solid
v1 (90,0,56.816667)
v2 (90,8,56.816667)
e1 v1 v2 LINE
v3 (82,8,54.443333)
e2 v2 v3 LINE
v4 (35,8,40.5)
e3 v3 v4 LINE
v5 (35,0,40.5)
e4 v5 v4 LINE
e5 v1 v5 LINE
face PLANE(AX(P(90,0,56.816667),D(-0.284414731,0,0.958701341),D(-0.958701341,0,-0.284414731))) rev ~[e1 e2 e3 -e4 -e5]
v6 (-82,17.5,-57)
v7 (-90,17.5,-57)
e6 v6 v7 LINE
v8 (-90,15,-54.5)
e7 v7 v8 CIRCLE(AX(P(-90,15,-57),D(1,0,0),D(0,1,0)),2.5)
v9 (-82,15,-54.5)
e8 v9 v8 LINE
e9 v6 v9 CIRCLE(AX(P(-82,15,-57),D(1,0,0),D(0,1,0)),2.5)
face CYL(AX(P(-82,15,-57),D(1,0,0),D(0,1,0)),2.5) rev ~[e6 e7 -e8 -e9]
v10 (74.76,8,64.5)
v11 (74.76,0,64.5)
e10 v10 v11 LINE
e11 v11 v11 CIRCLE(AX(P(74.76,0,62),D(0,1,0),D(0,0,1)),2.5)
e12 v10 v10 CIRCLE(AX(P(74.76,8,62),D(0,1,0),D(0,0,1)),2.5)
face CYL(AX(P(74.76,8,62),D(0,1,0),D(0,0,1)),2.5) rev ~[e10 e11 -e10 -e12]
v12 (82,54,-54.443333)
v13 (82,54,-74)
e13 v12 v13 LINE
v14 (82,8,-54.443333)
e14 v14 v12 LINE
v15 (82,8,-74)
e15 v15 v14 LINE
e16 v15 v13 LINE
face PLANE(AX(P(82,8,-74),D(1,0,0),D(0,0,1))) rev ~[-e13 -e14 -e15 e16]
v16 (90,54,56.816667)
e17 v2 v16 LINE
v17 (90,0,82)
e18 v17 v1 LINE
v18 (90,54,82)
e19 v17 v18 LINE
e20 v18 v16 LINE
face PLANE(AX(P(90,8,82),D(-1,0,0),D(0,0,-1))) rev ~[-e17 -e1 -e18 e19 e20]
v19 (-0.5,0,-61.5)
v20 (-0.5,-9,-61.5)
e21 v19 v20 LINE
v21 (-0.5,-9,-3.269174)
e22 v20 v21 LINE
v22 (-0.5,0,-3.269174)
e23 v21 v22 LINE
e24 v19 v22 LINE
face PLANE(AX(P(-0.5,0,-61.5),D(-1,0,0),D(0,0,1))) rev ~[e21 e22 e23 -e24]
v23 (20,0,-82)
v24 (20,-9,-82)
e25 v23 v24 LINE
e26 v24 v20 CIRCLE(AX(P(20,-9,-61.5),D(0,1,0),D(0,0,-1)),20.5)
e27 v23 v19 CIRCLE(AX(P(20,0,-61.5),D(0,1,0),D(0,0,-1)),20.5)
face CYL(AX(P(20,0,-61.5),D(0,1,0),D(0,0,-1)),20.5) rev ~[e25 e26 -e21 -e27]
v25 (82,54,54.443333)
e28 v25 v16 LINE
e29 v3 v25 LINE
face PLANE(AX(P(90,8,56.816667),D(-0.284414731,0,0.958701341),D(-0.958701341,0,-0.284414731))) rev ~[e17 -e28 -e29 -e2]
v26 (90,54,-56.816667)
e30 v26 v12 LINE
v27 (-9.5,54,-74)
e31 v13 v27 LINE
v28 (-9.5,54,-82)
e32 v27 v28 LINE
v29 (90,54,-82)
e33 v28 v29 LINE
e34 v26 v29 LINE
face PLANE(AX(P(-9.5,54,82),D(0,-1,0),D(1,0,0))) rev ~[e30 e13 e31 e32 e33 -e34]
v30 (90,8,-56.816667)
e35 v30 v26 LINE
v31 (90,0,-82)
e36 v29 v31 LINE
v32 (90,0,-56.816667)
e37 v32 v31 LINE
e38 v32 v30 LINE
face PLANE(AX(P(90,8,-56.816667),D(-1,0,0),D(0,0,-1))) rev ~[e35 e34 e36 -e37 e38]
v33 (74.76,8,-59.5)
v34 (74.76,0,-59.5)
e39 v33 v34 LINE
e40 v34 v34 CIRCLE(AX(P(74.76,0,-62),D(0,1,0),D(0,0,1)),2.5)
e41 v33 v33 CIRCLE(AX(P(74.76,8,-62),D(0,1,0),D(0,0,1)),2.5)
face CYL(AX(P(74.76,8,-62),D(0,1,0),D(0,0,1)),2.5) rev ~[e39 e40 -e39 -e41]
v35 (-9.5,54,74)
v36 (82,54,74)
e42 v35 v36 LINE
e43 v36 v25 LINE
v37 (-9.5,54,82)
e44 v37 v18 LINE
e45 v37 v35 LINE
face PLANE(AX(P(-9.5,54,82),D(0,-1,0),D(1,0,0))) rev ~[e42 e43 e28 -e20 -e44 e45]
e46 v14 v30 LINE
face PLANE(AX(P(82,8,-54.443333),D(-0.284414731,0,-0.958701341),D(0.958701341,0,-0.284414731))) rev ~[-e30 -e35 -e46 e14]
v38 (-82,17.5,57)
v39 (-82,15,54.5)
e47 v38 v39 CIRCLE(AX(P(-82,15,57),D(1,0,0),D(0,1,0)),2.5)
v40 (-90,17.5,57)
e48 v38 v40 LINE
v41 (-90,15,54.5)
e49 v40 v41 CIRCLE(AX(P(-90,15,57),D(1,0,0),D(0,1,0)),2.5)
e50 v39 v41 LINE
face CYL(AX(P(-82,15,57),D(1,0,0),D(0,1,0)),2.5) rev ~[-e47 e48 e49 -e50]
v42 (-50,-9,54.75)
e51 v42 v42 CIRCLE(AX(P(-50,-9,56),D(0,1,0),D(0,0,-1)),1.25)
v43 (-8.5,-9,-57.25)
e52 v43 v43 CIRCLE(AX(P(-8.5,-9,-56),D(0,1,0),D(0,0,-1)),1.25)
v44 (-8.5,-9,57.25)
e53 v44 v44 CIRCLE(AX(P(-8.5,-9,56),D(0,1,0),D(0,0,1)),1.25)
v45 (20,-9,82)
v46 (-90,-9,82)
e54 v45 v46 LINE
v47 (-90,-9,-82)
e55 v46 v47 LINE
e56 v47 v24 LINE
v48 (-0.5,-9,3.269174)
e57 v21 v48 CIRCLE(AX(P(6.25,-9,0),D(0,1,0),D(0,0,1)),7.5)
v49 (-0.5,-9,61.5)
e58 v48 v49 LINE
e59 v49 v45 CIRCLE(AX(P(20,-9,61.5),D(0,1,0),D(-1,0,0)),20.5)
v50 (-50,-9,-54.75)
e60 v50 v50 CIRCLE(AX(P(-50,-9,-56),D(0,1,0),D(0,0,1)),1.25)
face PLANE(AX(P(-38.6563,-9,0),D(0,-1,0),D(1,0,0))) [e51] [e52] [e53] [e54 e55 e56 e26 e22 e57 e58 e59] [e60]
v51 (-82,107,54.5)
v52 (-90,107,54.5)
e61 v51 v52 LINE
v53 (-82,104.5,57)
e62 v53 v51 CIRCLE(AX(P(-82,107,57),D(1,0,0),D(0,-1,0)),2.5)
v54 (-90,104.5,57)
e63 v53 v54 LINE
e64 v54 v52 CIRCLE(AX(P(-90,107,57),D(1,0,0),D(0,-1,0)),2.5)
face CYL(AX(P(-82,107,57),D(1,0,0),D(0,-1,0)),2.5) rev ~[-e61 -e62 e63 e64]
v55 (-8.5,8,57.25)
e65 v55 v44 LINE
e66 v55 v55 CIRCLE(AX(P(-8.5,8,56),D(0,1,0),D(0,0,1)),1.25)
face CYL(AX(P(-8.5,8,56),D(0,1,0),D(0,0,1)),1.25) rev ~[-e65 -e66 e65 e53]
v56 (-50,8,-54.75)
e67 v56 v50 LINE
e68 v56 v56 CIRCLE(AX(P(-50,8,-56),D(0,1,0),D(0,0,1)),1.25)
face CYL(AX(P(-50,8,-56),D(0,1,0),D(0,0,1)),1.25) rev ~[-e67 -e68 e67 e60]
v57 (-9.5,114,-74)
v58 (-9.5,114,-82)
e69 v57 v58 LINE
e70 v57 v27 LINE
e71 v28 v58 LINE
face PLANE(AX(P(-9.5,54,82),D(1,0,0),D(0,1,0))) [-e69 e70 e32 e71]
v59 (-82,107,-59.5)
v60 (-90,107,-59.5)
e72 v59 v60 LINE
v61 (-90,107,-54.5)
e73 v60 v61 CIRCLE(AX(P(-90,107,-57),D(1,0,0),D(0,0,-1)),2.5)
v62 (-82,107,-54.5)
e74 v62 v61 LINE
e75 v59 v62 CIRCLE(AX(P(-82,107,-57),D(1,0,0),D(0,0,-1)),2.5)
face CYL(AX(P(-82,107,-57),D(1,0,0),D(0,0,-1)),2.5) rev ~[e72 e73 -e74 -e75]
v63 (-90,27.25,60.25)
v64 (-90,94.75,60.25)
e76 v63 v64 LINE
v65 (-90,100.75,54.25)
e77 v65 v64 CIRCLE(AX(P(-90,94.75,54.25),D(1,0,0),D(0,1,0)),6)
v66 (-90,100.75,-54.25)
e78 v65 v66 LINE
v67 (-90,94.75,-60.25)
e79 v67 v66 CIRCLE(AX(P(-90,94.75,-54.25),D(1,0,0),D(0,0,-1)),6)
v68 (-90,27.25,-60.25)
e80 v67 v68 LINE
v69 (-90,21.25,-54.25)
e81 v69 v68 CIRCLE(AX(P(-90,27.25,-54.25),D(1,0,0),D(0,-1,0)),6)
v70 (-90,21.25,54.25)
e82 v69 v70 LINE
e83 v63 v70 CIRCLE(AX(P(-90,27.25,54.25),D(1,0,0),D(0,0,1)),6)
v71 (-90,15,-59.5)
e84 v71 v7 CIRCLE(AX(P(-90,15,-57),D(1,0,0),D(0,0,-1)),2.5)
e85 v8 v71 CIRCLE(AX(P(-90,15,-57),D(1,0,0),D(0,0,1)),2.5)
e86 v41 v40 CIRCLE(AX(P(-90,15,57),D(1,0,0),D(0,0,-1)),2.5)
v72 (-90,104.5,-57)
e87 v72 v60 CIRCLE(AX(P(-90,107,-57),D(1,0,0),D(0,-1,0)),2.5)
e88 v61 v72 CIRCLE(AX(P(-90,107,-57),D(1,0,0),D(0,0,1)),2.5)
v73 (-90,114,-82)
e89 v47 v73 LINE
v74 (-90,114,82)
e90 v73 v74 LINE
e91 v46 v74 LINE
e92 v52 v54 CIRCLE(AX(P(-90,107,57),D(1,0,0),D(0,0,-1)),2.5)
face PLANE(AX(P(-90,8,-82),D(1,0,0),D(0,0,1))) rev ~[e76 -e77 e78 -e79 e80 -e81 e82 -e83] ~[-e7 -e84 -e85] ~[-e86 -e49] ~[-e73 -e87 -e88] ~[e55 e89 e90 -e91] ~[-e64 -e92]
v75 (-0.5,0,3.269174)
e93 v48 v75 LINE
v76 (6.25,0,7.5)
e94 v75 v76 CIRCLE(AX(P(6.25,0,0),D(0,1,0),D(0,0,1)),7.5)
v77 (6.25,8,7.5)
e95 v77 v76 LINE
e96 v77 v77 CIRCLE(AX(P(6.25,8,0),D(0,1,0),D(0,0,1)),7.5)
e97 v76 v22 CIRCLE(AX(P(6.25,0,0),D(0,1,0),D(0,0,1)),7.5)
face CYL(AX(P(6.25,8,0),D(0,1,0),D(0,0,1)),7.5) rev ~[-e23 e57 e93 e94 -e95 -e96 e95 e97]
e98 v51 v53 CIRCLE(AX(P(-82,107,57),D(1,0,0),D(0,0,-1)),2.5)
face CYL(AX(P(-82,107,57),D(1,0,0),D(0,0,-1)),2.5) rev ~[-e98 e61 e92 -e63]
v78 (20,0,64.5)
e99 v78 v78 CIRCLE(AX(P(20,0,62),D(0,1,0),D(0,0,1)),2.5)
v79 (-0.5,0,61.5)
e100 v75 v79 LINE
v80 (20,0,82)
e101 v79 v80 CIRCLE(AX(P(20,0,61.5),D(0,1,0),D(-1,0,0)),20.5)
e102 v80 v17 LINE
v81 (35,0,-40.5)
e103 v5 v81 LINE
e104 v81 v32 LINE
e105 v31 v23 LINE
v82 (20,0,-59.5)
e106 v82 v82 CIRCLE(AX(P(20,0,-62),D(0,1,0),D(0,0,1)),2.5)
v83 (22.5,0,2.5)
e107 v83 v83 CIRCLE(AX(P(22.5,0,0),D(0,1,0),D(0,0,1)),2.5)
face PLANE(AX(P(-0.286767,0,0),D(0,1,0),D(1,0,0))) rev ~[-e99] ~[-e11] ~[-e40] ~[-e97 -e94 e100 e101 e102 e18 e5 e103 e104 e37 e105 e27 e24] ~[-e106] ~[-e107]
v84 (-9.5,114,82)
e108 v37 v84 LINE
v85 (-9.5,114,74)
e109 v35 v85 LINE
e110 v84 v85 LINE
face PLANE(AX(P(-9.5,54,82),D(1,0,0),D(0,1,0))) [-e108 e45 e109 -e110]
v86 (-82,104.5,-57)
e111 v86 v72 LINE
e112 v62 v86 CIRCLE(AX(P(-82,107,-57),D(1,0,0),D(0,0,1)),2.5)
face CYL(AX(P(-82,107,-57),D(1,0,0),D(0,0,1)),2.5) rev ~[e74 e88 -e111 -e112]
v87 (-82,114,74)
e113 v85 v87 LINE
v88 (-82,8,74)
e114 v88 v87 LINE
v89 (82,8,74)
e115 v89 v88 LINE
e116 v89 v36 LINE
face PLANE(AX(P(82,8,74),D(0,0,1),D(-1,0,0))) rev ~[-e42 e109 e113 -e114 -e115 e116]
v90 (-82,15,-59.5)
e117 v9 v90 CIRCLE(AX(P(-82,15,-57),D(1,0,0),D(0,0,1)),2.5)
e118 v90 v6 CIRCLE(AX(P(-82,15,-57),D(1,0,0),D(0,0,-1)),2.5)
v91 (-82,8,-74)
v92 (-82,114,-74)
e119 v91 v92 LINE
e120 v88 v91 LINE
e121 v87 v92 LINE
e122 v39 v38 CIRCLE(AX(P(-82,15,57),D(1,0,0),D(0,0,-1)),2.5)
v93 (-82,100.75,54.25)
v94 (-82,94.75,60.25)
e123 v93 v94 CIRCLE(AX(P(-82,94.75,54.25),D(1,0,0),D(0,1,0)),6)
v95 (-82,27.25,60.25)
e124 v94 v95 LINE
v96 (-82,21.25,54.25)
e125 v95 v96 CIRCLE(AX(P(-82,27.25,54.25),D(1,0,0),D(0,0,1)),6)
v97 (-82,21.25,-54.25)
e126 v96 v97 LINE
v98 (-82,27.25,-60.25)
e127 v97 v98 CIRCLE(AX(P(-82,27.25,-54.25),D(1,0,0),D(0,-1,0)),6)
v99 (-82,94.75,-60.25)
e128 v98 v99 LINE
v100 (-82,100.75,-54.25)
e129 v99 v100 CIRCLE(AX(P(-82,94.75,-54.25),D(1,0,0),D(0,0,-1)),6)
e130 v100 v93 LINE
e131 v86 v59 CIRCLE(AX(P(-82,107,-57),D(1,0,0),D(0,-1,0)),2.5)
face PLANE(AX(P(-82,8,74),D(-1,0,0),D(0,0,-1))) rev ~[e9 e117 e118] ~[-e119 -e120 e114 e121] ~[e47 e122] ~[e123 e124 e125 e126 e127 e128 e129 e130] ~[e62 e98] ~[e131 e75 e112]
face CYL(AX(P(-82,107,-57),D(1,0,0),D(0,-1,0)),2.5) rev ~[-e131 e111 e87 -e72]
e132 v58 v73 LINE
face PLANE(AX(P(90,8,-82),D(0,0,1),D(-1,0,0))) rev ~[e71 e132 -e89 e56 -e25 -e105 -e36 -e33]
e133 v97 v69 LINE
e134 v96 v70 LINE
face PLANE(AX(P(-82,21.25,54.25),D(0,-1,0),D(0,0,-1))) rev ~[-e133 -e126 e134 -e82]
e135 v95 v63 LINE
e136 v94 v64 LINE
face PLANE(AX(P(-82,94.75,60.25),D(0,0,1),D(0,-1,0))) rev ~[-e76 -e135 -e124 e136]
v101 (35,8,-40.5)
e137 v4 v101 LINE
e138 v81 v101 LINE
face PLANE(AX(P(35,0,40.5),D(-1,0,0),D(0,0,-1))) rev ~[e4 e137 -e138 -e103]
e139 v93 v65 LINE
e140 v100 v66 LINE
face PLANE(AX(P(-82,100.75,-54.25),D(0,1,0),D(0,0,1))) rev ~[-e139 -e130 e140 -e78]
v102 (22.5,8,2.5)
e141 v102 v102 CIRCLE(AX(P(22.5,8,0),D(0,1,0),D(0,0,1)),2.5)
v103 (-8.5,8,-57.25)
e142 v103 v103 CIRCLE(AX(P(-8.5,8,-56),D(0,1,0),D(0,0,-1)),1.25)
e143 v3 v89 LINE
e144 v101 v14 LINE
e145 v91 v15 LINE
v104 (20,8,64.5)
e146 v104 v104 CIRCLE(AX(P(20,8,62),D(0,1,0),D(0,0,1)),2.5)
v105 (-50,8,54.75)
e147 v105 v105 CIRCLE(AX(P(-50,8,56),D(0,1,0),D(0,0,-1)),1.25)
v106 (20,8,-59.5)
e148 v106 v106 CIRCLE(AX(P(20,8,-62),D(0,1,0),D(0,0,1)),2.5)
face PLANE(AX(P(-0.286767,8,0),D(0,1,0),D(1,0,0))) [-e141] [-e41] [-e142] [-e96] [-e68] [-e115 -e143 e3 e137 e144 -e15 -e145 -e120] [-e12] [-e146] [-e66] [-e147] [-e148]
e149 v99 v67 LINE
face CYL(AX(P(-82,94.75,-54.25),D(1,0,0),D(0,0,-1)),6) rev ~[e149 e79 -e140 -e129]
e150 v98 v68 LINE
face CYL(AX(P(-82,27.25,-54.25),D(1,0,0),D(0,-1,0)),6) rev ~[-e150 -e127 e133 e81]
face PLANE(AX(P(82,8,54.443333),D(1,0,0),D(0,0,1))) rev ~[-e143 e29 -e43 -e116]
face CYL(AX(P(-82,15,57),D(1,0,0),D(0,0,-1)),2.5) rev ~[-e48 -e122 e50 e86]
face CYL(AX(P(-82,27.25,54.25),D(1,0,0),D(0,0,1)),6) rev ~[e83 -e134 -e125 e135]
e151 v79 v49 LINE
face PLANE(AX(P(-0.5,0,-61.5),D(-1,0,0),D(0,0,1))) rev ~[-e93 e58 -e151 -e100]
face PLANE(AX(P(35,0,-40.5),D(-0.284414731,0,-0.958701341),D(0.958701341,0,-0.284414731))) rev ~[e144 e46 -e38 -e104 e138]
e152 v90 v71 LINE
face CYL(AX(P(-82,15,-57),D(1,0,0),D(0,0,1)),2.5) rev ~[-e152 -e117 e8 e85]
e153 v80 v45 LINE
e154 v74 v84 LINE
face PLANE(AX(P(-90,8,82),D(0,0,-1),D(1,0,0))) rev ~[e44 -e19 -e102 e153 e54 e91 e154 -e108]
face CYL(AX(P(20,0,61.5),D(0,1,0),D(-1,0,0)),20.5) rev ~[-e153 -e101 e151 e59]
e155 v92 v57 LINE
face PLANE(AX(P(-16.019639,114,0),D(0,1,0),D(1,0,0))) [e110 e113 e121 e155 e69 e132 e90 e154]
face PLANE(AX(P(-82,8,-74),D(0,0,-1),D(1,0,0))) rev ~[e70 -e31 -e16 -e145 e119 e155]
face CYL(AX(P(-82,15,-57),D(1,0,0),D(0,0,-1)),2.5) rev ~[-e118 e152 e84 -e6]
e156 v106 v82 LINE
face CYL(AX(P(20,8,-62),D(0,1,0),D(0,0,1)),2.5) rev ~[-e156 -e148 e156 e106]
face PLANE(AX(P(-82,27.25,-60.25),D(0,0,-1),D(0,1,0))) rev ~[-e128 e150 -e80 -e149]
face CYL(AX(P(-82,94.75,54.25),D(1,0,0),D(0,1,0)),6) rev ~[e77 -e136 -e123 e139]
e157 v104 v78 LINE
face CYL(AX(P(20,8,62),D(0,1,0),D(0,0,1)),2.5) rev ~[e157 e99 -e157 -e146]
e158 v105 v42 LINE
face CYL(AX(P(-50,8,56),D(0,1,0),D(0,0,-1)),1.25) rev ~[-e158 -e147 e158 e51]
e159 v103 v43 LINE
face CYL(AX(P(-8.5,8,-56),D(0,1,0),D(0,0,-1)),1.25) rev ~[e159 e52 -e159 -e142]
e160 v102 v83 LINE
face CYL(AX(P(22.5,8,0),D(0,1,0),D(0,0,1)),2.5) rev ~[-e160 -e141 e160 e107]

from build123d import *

# Parameters (mm, degrees)
BOSS_EXTRUDE1_DEPTH = 8
BOSS_EXTRUDE2_DEPTH = 9
BOSS_EXTRUDE3_DEPTH = 106
CUT_EXTRUDE1_REACH  = 163.431
SKETCH4_R           = 2.5
SKETCH4_R_2         = 7.5
CUT_EXTRUDE2_REACH  = 163.431
SKETCH5_R           = 1.25
SKETCH7_W           = 99.5
SKETCH7_H           = 60
CUT_EXTRUDE3_DEPTH  = 220.070764823
CUT_EXTRUDE4_REACH  = 224.045


with BuildPart() as part:
    # Sketch1 → Boss-Extrude1 (new body)
    with BuildSketch(Plane(origin=(0, 0, 0), x_dir=(1, 0, 0), z_dir=(0, 1, 0))):
        Polygon((35, 40.5), (90, 56.816666667), (90, 82), (-90, 82), (-90, -82), (90, -82), (90, -56.816666667), (35, -40.5), align=None)
    extrude(amount=BOSS_EXTRUDE1_DEPTH)

    # Sketch2 → Boss-Extrude2 (add)
    with BuildSketch(Plane.XZ):
        with BuildLine():
            ThreePointArc((-0.5, 61.5), (5.504310986, 75.995689014), (20, 82))
            Line((20, 82), (-90, 82))
            Line((-90, 82), (-90, -82))
            Line((-90, -82), (20, -82))
            ThreePointArc((20, -82), (5.504310986, -75.995689014), (-0.5, -61.5))
            Line((-0.5, -61.5), (-0.5, 61.5))
        make_face()
    extrude(amount=BOSS_EXTRUDE2_DEPTH)

    # Sketch3 → Boss-Extrude3 (add)
    with BuildSketch(Plane(origin=(0, 8, 0), x_dir=(1, 0, 0), z_dir=(0, 1, 0))):
        Polygon((90, 82), (-90, 82), (-90, -82), (90, -82), (90, -56.816666667), (82, -54.443333333), (82, -62.787955021), (82, -74), (-82, -74), (-82, 74), (82, 74), (82, 62.787955021), (82, 54.443333333), (90, 56.816666667), align=None)
    extrude(amount=BOSS_EXTRUDE3_DEPTH)

    # Sketch4 → Cut-Extrude1 (cut, up to next)
    with BuildSketch(Plane(origin=(0, 8, 0), x_dir=(1, 0, 0), z_dir=(0, 1, 0)), mode=Mode.PRIVATE) as cut_extrude1_sk1:
        with Locations(Location((74.76, 62, 0), (0, 0, 270))):
            Circle(SKETCH4_R)
    cut_extrude1_tool1 = extrude(cut_extrude1_sk1.sketch, amount=-CUT_EXTRUDE1_REACH, mode=Mode.PRIVATE) & part.part
    # Sketch4 → Cut-Extrude1 (cut, up to next)
    with BuildSketch(Plane(origin=(0, 8, 0), x_dir=(1, 0, 0), z_dir=(0, 1, 0)), mode=Mode.PRIVATE) as cut_extrude1_sk2:
        with Locations(Location((6.25, 0, 0), (0, 0, 270))):
            Circle(SKETCH4_R_2)
    cut_extrude1_tool2 = extrude(cut_extrude1_sk2.sketch, amount=-CUT_EXTRUDE1_REACH, mode=Mode.PRIVATE) & part.part
    # Sketch4 → Cut-Extrude1 (cut, up to next)
    with BuildSketch(Plane(origin=(0, 8, 0), x_dir=(1, 0, 0), z_dir=(0, 1, 0)), mode=Mode.PRIVATE) as cut_extrude1_sk3:
        with Locations(Location((22.5, 0, 0), (0, 0, 270))):
            Circle(SKETCH4_R)
    cut_extrude1_tool3 = extrude(cut_extrude1_sk3.sketch, amount=-CUT_EXTRUDE1_REACH, mode=Mode.PRIVATE) & part.part
    # Sketch4 → Cut-Extrude1 (cut, up to next)
    with BuildSketch(Plane(origin=(0, 8, 0), x_dir=(1, 0, 0), z_dir=(0, 1, 0)), mode=Mode.PRIVATE) as cut_extrude1_sk4:
        with Locations(Location((20, 62, 0), (0, 0, 270))):
            Circle(SKETCH4_R)
    cut_extrude1_tool4 = extrude(cut_extrude1_sk4.sketch, amount=-CUT_EXTRUDE1_REACH, mode=Mode.PRIVATE) & part.part
    # Sketch4 → Cut-Extrude1 (cut, up to next)
    with BuildSketch(Plane(origin=(0, 8, 0), x_dir=(1, 0, 0), z_dir=(0, 1, 0)), mode=Mode.PRIVATE) as cut_extrude1_sk5:
        with Locations(Location((20, -62, 0), (0, 0, 270))):
            Circle(SKETCH4_R)
    cut_extrude1_tool5 = extrude(cut_extrude1_sk5.sketch, amount=-CUT_EXTRUDE1_REACH, mode=Mode.PRIVATE) & part.part
    # Sketch4 → Cut-Extrude1 (cut, up to next)
    with BuildSketch(Plane(origin=(0, 8, 0), x_dir=(1, 0, 0), z_dir=(0, 1, 0)), mode=Mode.PRIVATE) as cut_extrude1_sk6:
        with Locations(Location((74.76, -62, 0), (0, 0, 270))):
            Circle(SKETCH4_R)
    cut_extrude1_tool6 = extrude(cut_extrude1_sk6.sketch, amount=-CUT_EXTRUDE1_REACH, mode=Mode.PRIVATE) & part.part
    add(cut_extrude1_tool1.solids().sort_by_distance((74.76, 8, -62))[0], mode=Mode.SUBTRACT)
    add(cut_extrude1_tool2.solids().sort_by_distance((6.25, 8, 0))[0], mode=Mode.SUBTRACT)
    add(cut_extrude1_tool3.solids().sort_by_distance((22.5, 8, 0))[0], mode=Mode.SUBTRACT)
    add(cut_extrude1_tool4.solids().sort_by_distance((20, 8, -62))[0], mode=Mode.SUBTRACT)
    add(cut_extrude1_tool5.solids().sort_by_distance((20, 8, 62))[0], mode=Mode.SUBTRACT)
    add(cut_extrude1_tool6.solids().sort_by_distance((74.76, 8, 62))[0], mode=Mode.SUBTRACT)

    # Sketch5 → Cut-Extrude2 (cut, up to next)
    with BuildSketch(Plane(origin=(0, 8, 0), x_dir=(1, 0, 0), z_dir=(0, 1, 0)), mode=Mode.PRIVATE) as cut_extrude2_sk1:
        with Locations(Location((-50, 56, 0), (0, 0, 270))):
            Circle(SKETCH5_R)
    cut_extrude2_tool1 = extrude(cut_extrude2_sk1.sketch, amount=-CUT_EXTRUDE2_REACH, mode=Mode.PRIVATE) & part.part
    # Sketch5 → Cut-Extrude2 (cut, up to next)
    with BuildSketch(Plane(origin=(0, 8, 0), x_dir=(1, 0, 0), z_dir=(0, 1, 0)), mode=Mode.PRIVATE) as cut_extrude2_sk2:
        with Locations(Location((-8.5, 56, 0), (0, 0, 90))):
            Circle(SKETCH5_R)
    cut_extrude2_tool2 = extrude(cut_extrude2_sk2.sketch, amount=-CUT_EXTRUDE2_REACH, mode=Mode.PRIVATE) & part.part
    # Sketch5 → Cut-Extrude2 (cut, up to next)
    with BuildSketch(Plane(origin=(0, 8, 0), x_dir=(1, 0, 0), z_dir=(0, 1, 0)), mode=Mode.PRIVATE) as cut_extrude2_sk3:
        with Locations(Location((-8.5, -56, 0), (0, 0, 270))):
            Circle(SKETCH5_R)
    cut_extrude2_tool3 = extrude(cut_extrude2_sk3.sketch, amount=-CUT_EXTRUDE2_REACH, mode=Mode.PRIVATE) & part.part
    # Sketch5 → Cut-Extrude2 (cut, up to next)
    with BuildSketch(Plane(origin=(0, 8, 0), x_dir=(1, 0, 0), z_dir=(0, 1, 0)), mode=Mode.PRIVATE) as cut_extrude2_sk4:
        with Locations(Location((-50, -56, 0), (0, 0, 90))):
            Circle(SKETCH5_R)
    cut_extrude2_tool4 = extrude(cut_extrude2_sk4.sketch, amount=-CUT_EXTRUDE2_REACH, mode=Mode.PRIVATE) & part.part
    add(cut_extrude2_tool1.solids().sort_by_distance((-50, 8, -56))[0], mode=Mode.SUBTRACT)
    add(cut_extrude2_tool2.solids().sort_by_distance((-8.5, 8, -56))[0], mode=Mode.SUBTRACT)
    add(cut_extrude2_tool3.solids().sort_by_distance((-8.5, 8, 56))[0], mode=Mode.SUBTRACT)
    add(cut_extrude2_tool4.solids().sort_by_distance((-50, 8, 56))[0], mode=Mode.SUBTRACT)

    # Sketch7 → Cut-Extrude3 (cut, through all)
    with BuildSketch(Plane.XY.offset(82)):
        with Locations((40.25, 84)):
            Rectangle(SKETCH7_W, SKETCH7_H)
    extrude(amount=-CUT_EXTRUDE3_DEPTH, mode=Mode.SUBTRACT)

    # Sketch8 → Cut-Extrude4 (cut, up to next)
    with BuildSketch(Plane(origin=(-82, 0, 0), x_dir=(0, 0, -1), z_dir=(1, 0, 0)), mode=Mode.PRIVATE) as cut_extrude4_sk1:
        with BuildLine():
            Line((-57, 104.5), (-57, 107))
            Line((-57, 107), (-54.5, 107))
            ThreePointArc((-54.5, 107), (-58.767766953, 108.767766953), (-57, 104.5))
        make_face()
    cut_extrude4_tool1 = extrude(cut_extrude4_sk1.sketch, amount=-CUT_EXTRUDE4_REACH, mode=Mode.PRIVATE) & part.part
    # Sketch8 → Cut-Extrude4 (cut, up to next)
    with BuildSketch(Plane(origin=(-82, 0, 0), x_dir=(0, 0, -1), z_dir=(1, 0, 0)), mode=Mode.PRIVATE) as cut_extrude4_sk2:
        with BuildLine():
            Line((-54.5, 107), (-57, 107))
            Line((-57, 107), (-57, 104.5))
            ThreePointArc((-57, 104.5), (-55.232233047, 105.232233047), (-54.5, 107))
        make_face()
    cut_extrude4_tool2 = extrude(cut_extrude4_sk2.sketch, amount=-CUT_EXTRUDE4_REACH, mode=Mode.PRIVATE) & part.part
    # Sketch8 → Cut-Extrude4 (cut, up to next)
    with BuildSketch(Plane(origin=(-82, 0, 0), x_dir=(0, 0, -1), z_dir=(1, 0, 0)), mode=Mode.PRIVATE) as cut_extrude4_sk3:
        with BuildLine():
            Line((-57, 104.5), (-57, 107))
            Line((-57, 107), (-54.5, 107))
            ThreePointArc((-54.5, 107), (-58.767766953, 108.767766953), (-57, 104.5))
        make_face()
    cut_extrude4_tool3 = extrude(cut_extrude4_sk3.sketch, amount=-CUT_EXTRUDE4_REACH, mode=Mode.PRIVATE) & part.part
    # Sketch8 → Cut-Extrude4 (cut, up to next)
    with BuildSketch(Plane(origin=(-82, 0, 0), x_dir=(0, 0, -1), z_dir=(1, 0, 0)), mode=Mode.PRIVATE) as cut_extrude4_sk4:
        with BuildLine():
            Line((-54.5, 107), (-57, 107))
            Line((-57, 107), (-57, 104.5))
            ThreePointArc((-57, 104.5), (-55.232233047, 105.232233047), (-54.5, 107))
        make_face()
    cut_extrude4_tool4 = extrude(cut_extrude4_sk4.sketch, amount=-CUT_EXTRUDE4_REACH, mode=Mode.PRIVATE) & part.part
    # Sketch8 → Cut-Extrude4 (cut, up to next)
    with BuildSketch(Plane(origin=(-82, 0, 0), x_dir=(0, 0, -1), z_dir=(1, 0, 0)), mode=Mode.PRIVATE) as cut_extrude4_sk5:
        with BuildLine():
            ThreePointArc((59.5, 107), (57, 109.5), (54.5, 107))
            Line((54.5, 107), (57, 107))
            Line((57, 107), (57, 104.5))
            ThreePointArc((57, 104.5), (58.767766953, 105.232233047), (59.5, 107))
        make_face()
    cut_extrude4_tool5 = extrude(cut_extrude4_sk5.sketch, amount=-CUT_EXTRUDE4_REACH, mode=Mode.PRIVATE) & part.part
    # Sketch8 → Cut-Extrude4 (cut, up to next)
    with BuildSketch(Plane(origin=(-82, 0, 0), x_dir=(0, 0, -1), z_dir=(1, 0, 0)), mode=Mode.PRIVATE) as cut_extrude4_sk6:
        with BuildLine():
            Line((57, 107), (54.5, 107))
            ThreePointArc((54.5, 107), (55.232233047, 105.232233047), (57, 104.5))
            Line((57, 104.5), (57, 107))
        make_face()
    cut_extrude4_tool6 = extrude(cut_extrude4_sk6.sketch, amount=-CUT_EXTRUDE4_REACH, mode=Mode.PRIVATE) & part.part
    # Sketch8 → Cut-Extrude4 (cut, up to next)
    with BuildSketch(Plane(origin=(-82, 0, 0), x_dir=(0, 0, -1), z_dir=(1, 0, 0)), mode=Mode.PRIVATE) as cut_extrude4_sk7:
        with BuildLine():
            ThreePointArc((59.5, 107), (57, 109.5), (54.5, 107))
            Line((54.5, 107), (57, 107))
            Line((57, 107), (57, 104.5))
            ThreePointArc((57, 104.5), (58.767766953, 105.232233047), (59.5, 107))
        make_face()
    cut_extrude4_tool7 = extrude(cut_extrude4_sk7.sketch, amount=-CUT_EXTRUDE4_REACH, mode=Mode.PRIVATE) & part.part
    # Sketch8 → Cut-Extrude4 (cut, up to next)
    with BuildSketch(Plane(origin=(-82, 0, 0), x_dir=(0, 0, -1), z_dir=(1, 0, 0)), mode=Mode.PRIVATE) as cut_extrude4_sk8:
        with BuildLine():
            Line((57, 107), (54.5, 107))
            ThreePointArc((54.5, 107), (55.232233047, 105.232233047), (57, 104.5))
            Line((57, 104.5), (57, 107))
        make_face()
    cut_extrude4_tool8 = extrude(cut_extrude4_sk8.sketch, amount=-CUT_EXTRUDE4_REACH, mode=Mode.PRIVATE) & part.part
    # Sketch8 → Cut-Extrude4 (cut, up to next)
    with BuildSketch(Plane(origin=(-82, 0, 0), x_dir=(0, 0, -1), z_dir=(1, 0, 0)), mode=Mode.PRIVATE) as cut_extrude4_sk9:
        with BuildLine():
            ThreePointArc((-54.5, 15), (-55.232233047, 16.767766953), (-57, 17.5))
            Line((-57, 17.5), (-57, 15))
            Line((-57, 15), (-54.5, 15))
        make_face()
    cut_extrude4_tool9 = extrude(cut_extrude4_sk9.sketch, amount=-CUT_EXTRUDE4_REACH, mode=Mode.PRIVATE) & part.part
    # Sketch8 → Cut-Extrude4 (cut, up to next)
    with BuildSketch(Plane(origin=(-82, 0, 0), x_dir=(0, 0, -1), z_dir=(1, 0, 0)), mode=Mode.PRIVATE) as cut_extrude4_sk10:
        with BuildLine():
            Line((-57, 15), (-57, 17.5))
            ThreePointArc((-57, 17.5), (-58.767766953, 13.232233047), (-54.5, 15))
            Line((-54.5, 15), (-57, 15))
        make_face()
    cut_extrude4_tool10 = extrude(cut_extrude4_sk10.sketch, amount=-CUT_EXTRUDE4_REACH, mode=Mode.PRIVATE) & part.part
    # Sketch8 → Cut-Extrude4 (cut, up to next)
    with BuildSketch(Plane(origin=(-82, 0, 0), x_dir=(0, 0, -1), z_dir=(1, 0, 0)), mode=Mode.PRIVATE) as cut_extrude4_sk11:
        with BuildLine():
            ThreePointArc((-54.5, 15), (-55.232233047, 16.767766953), (-57, 17.5))
            Line((-57, 17.5), (-57, 15))
            Line((-57, 15), (-54.5, 15))
        make_face()
    cut_extrude4_tool11 = extrude(cut_extrude4_sk11.sketch, amount=-CUT_EXTRUDE4_REACH, mode=Mode.PRIVATE) & part.part
    # Sketch8 → Cut-Extrude4 (cut, up to next)
    with BuildSketch(Plane(origin=(-82, 0, 0), x_dir=(0, 0, -1), z_dir=(1, 0, 0)), mode=Mode.PRIVATE) as cut_extrude4_sk12:
        with BuildLine():
            Line((-57, 15), (-57, 17.5))
            ThreePointArc((-57, 17.5), (-58.767766953, 13.232233047), (-54.5, 15))
            Line((-54.5, 15), (-57, 15))
        make_face()
    cut_extrude4_tool12 = extrude(cut_extrude4_sk12.sketch, amount=-CUT_EXTRUDE4_REACH, mode=Mode.PRIVATE) & part.part
    # Sketch8 → Cut-Extrude4 (cut, up to next)
    with BuildSketch(Plane(origin=(-82, 0, 0), x_dir=(0, 0, -1), z_dir=(1, 0, 0)), mode=Mode.PRIVATE) as cut_extrude4_sk13:
        with BuildLine():
            ThreePointArc((59.5, 15), (58.767766953, 16.767766953), (57, 17.5))
            Line((57, 17.5), (57, 15))
            Line((57, 15), (54.5, 15))
            ThreePointArc((54.5, 15), (57, 12.5), (59.5, 15))
        make_face()
    cut_extrude4_tool13 = extrude(cut_extrude4_sk13.sketch, amount=-CUT_EXTRUDE4_REACH, mode=Mode.PRIVATE) & part.part
    # Sketch8 → Cut-Extrude4 (cut, up to next)
    with BuildSketch(Plane(origin=(-82, 0, 0), x_dir=(0, 0, -1), z_dir=(1, 0, 0)), mode=Mode.PRIVATE) as cut_extrude4_sk14:
        with BuildLine():
            Line((57, 15), (57, 17.5))
            ThreePointArc((57, 17.5), (55.232233047, 16.767766953), (54.5, 15))
            Line((54.5, 15), (57, 15))
        make_face()
    cut_extrude4_tool14 = extrude(cut_extrude4_sk14.sketch, amount=-CUT_EXTRUDE4_REACH, mode=Mode.PRIVATE) & part.part
    # Sketch8 → Cut-Extrude4 (cut, up to next)
    with BuildSketch(Plane(origin=(-82, 0, 0), x_dir=(0, 0, -1), z_dir=(1, 0, 0)), mode=Mode.PRIVATE) as cut_extrude4_sk15:
        with BuildLine():
            ThreePointArc((59.5, 15), (58.767766953, 16.767766953), (57, 17.5))
            Line((57, 17.5), (57, 15))
            Line((57, 15), (54.5, 15))
            ThreePointArc((54.5, 15), (57, 12.5), (59.5, 15))
        make_face()
    cut_extrude4_tool15 = extrude(cut_extrude4_sk15.sketch, amount=-CUT_EXTRUDE4_REACH, mode=Mode.PRIVATE) & part.part
    # Sketch8 → Cut-Extrude4 (cut, up to next)
    with BuildSketch(Plane(origin=(-82, 0, 0), x_dir=(0, 0, -1), z_dir=(1, 0, 0)), mode=Mode.PRIVATE) as cut_extrude4_sk16:
        with BuildLine():
            Line((57, 15), (57, 17.5))
            ThreePointArc((57, 17.5), (55.232233047, 16.767766953), (54.5, 15))
            Line((54.5, 15), (57, 15))
        make_face()
    cut_extrude4_tool16 = extrude(cut_extrude4_sk16.sketch, amount=-CUT_EXTRUDE4_REACH, mode=Mode.PRIVATE) & part.part
    # Sketch8 → Cut-Extrude4 (cut, up to next)
    with BuildSketch(Plane(origin=(-82, 0, 0), x_dir=(0, 0, -1), z_dir=(1, 0, 0)), mode=Mode.PRIVATE) as cut_extrude4_sk17:
        with BuildLine():
            Line((-60.25, 94.75), (-60.25, 27.25))
            ThreePointArc((-60.25, 27.25), (-58.492640687, 23.007359313), (-54.25, 21.25))
            Line((-54.25, 21.25), (54.25, 21.25))
            ThreePointArc((54.25, 21.25), (58.492640687, 23.007359313), (60.25, 27.25))
            Line((60.25, 27.25), (60.25, 94.75))
            ThreePointArc((60.25, 94.75), (58.492640687, 98.992640687), (54.25, 100.75))
            Line((54.25, 100.75), (-54.25, 100.75))
            ThreePointArc((-54.25, 100.75), (-58.492640687, 98.992640687), (-60.25, 94.75))
        make_face()
    cut_extrude4_tool17 = extrude(cut_extrude4_sk17.sketch, amount=-CUT_EXTRUDE4_REACH, mode=Mode.PRIVATE) & part.part
    add(cut_extrude4_tool1.solids().sort_by_distance((-82, 107.353678, 57.353678))[0], mode=Mode.SUBTRACT)
    add(cut_extrude4_tool2.solids().sort_by_distance((-82, 105.938967, 55.938967))[0], mode=Mode.SUBTRACT)
    add(cut_extrude4_tool3.solids().sort_by_distance((-82, 107.353678, 57.353678))[0], mode=Mode.SUBTRACT)
    add(cut_extrude4_tool4.solids().sort_by_distance((-82, 105.938967, 55.938967))[0], mode=Mode.SUBTRACT)
    add(cut_extrude4_tool5.solids().sort_by_distance((-82, 107.353678, -57.353678))[0], mode=Mode.SUBTRACT)
    add(cut_extrude4_tool6.solids().sort_by_distance((-82, 105.938967, -55.938967))[0], mode=Mode.SUBTRACT)
    add(cut_extrude4_tool7.solids().sort_by_distance((-82, 107.353678, -57.353678))[0], mode=Mode.SUBTRACT)
    add(cut_extrude4_tool8.solids().sort_by_distance((-82, 105.938967, -55.938967))[0], mode=Mode.SUBTRACT)
    add(cut_extrude4_tool9.solids().sort_by_distance((-82, 16.061033, 55.938967))[0], mode=Mode.SUBTRACT)
    add(cut_extrude4_tool10.solids().sort_by_distance((-82, 14.646322, 57.353678))[0], mode=Mode.SUBTRACT)
    add(cut_extrude4_tool11.solids().sort_by_distance((-82, 16.061033, 55.938967))[0], mode=Mode.SUBTRACT)
    add(cut_extrude4_tool12.solids().sort_by_distance((-82, 14.646322, 57.353678))[0], mode=Mode.SUBTRACT)
    add(cut_extrude4_tool13.solids().sort_by_distance((-82, 14.646322, -57.353678))[0], mode=Mode.SUBTRACT)
    add(cut_extrude4_tool14.solids().sort_by_distance((-82, 16.061033, -55.938967))[0], mode=Mode.SUBTRACT)
    add(cut_extrude4_tool15.solids().sort_by_distance((-82, 14.646322, -57.353678))[0], mode=Mode.SUBTRACT)
    add(cut_extrude4_tool16.solids().sort_by_distance((-82, 16.061033, -55.938967))[0], mode=Mode.SUBTRACT)
    add(cut_extrude4_tool17.solids().sort_by_distance((-82, 61, 0))[0], mode=Mode.SUBTRACT)


solid = part.part
